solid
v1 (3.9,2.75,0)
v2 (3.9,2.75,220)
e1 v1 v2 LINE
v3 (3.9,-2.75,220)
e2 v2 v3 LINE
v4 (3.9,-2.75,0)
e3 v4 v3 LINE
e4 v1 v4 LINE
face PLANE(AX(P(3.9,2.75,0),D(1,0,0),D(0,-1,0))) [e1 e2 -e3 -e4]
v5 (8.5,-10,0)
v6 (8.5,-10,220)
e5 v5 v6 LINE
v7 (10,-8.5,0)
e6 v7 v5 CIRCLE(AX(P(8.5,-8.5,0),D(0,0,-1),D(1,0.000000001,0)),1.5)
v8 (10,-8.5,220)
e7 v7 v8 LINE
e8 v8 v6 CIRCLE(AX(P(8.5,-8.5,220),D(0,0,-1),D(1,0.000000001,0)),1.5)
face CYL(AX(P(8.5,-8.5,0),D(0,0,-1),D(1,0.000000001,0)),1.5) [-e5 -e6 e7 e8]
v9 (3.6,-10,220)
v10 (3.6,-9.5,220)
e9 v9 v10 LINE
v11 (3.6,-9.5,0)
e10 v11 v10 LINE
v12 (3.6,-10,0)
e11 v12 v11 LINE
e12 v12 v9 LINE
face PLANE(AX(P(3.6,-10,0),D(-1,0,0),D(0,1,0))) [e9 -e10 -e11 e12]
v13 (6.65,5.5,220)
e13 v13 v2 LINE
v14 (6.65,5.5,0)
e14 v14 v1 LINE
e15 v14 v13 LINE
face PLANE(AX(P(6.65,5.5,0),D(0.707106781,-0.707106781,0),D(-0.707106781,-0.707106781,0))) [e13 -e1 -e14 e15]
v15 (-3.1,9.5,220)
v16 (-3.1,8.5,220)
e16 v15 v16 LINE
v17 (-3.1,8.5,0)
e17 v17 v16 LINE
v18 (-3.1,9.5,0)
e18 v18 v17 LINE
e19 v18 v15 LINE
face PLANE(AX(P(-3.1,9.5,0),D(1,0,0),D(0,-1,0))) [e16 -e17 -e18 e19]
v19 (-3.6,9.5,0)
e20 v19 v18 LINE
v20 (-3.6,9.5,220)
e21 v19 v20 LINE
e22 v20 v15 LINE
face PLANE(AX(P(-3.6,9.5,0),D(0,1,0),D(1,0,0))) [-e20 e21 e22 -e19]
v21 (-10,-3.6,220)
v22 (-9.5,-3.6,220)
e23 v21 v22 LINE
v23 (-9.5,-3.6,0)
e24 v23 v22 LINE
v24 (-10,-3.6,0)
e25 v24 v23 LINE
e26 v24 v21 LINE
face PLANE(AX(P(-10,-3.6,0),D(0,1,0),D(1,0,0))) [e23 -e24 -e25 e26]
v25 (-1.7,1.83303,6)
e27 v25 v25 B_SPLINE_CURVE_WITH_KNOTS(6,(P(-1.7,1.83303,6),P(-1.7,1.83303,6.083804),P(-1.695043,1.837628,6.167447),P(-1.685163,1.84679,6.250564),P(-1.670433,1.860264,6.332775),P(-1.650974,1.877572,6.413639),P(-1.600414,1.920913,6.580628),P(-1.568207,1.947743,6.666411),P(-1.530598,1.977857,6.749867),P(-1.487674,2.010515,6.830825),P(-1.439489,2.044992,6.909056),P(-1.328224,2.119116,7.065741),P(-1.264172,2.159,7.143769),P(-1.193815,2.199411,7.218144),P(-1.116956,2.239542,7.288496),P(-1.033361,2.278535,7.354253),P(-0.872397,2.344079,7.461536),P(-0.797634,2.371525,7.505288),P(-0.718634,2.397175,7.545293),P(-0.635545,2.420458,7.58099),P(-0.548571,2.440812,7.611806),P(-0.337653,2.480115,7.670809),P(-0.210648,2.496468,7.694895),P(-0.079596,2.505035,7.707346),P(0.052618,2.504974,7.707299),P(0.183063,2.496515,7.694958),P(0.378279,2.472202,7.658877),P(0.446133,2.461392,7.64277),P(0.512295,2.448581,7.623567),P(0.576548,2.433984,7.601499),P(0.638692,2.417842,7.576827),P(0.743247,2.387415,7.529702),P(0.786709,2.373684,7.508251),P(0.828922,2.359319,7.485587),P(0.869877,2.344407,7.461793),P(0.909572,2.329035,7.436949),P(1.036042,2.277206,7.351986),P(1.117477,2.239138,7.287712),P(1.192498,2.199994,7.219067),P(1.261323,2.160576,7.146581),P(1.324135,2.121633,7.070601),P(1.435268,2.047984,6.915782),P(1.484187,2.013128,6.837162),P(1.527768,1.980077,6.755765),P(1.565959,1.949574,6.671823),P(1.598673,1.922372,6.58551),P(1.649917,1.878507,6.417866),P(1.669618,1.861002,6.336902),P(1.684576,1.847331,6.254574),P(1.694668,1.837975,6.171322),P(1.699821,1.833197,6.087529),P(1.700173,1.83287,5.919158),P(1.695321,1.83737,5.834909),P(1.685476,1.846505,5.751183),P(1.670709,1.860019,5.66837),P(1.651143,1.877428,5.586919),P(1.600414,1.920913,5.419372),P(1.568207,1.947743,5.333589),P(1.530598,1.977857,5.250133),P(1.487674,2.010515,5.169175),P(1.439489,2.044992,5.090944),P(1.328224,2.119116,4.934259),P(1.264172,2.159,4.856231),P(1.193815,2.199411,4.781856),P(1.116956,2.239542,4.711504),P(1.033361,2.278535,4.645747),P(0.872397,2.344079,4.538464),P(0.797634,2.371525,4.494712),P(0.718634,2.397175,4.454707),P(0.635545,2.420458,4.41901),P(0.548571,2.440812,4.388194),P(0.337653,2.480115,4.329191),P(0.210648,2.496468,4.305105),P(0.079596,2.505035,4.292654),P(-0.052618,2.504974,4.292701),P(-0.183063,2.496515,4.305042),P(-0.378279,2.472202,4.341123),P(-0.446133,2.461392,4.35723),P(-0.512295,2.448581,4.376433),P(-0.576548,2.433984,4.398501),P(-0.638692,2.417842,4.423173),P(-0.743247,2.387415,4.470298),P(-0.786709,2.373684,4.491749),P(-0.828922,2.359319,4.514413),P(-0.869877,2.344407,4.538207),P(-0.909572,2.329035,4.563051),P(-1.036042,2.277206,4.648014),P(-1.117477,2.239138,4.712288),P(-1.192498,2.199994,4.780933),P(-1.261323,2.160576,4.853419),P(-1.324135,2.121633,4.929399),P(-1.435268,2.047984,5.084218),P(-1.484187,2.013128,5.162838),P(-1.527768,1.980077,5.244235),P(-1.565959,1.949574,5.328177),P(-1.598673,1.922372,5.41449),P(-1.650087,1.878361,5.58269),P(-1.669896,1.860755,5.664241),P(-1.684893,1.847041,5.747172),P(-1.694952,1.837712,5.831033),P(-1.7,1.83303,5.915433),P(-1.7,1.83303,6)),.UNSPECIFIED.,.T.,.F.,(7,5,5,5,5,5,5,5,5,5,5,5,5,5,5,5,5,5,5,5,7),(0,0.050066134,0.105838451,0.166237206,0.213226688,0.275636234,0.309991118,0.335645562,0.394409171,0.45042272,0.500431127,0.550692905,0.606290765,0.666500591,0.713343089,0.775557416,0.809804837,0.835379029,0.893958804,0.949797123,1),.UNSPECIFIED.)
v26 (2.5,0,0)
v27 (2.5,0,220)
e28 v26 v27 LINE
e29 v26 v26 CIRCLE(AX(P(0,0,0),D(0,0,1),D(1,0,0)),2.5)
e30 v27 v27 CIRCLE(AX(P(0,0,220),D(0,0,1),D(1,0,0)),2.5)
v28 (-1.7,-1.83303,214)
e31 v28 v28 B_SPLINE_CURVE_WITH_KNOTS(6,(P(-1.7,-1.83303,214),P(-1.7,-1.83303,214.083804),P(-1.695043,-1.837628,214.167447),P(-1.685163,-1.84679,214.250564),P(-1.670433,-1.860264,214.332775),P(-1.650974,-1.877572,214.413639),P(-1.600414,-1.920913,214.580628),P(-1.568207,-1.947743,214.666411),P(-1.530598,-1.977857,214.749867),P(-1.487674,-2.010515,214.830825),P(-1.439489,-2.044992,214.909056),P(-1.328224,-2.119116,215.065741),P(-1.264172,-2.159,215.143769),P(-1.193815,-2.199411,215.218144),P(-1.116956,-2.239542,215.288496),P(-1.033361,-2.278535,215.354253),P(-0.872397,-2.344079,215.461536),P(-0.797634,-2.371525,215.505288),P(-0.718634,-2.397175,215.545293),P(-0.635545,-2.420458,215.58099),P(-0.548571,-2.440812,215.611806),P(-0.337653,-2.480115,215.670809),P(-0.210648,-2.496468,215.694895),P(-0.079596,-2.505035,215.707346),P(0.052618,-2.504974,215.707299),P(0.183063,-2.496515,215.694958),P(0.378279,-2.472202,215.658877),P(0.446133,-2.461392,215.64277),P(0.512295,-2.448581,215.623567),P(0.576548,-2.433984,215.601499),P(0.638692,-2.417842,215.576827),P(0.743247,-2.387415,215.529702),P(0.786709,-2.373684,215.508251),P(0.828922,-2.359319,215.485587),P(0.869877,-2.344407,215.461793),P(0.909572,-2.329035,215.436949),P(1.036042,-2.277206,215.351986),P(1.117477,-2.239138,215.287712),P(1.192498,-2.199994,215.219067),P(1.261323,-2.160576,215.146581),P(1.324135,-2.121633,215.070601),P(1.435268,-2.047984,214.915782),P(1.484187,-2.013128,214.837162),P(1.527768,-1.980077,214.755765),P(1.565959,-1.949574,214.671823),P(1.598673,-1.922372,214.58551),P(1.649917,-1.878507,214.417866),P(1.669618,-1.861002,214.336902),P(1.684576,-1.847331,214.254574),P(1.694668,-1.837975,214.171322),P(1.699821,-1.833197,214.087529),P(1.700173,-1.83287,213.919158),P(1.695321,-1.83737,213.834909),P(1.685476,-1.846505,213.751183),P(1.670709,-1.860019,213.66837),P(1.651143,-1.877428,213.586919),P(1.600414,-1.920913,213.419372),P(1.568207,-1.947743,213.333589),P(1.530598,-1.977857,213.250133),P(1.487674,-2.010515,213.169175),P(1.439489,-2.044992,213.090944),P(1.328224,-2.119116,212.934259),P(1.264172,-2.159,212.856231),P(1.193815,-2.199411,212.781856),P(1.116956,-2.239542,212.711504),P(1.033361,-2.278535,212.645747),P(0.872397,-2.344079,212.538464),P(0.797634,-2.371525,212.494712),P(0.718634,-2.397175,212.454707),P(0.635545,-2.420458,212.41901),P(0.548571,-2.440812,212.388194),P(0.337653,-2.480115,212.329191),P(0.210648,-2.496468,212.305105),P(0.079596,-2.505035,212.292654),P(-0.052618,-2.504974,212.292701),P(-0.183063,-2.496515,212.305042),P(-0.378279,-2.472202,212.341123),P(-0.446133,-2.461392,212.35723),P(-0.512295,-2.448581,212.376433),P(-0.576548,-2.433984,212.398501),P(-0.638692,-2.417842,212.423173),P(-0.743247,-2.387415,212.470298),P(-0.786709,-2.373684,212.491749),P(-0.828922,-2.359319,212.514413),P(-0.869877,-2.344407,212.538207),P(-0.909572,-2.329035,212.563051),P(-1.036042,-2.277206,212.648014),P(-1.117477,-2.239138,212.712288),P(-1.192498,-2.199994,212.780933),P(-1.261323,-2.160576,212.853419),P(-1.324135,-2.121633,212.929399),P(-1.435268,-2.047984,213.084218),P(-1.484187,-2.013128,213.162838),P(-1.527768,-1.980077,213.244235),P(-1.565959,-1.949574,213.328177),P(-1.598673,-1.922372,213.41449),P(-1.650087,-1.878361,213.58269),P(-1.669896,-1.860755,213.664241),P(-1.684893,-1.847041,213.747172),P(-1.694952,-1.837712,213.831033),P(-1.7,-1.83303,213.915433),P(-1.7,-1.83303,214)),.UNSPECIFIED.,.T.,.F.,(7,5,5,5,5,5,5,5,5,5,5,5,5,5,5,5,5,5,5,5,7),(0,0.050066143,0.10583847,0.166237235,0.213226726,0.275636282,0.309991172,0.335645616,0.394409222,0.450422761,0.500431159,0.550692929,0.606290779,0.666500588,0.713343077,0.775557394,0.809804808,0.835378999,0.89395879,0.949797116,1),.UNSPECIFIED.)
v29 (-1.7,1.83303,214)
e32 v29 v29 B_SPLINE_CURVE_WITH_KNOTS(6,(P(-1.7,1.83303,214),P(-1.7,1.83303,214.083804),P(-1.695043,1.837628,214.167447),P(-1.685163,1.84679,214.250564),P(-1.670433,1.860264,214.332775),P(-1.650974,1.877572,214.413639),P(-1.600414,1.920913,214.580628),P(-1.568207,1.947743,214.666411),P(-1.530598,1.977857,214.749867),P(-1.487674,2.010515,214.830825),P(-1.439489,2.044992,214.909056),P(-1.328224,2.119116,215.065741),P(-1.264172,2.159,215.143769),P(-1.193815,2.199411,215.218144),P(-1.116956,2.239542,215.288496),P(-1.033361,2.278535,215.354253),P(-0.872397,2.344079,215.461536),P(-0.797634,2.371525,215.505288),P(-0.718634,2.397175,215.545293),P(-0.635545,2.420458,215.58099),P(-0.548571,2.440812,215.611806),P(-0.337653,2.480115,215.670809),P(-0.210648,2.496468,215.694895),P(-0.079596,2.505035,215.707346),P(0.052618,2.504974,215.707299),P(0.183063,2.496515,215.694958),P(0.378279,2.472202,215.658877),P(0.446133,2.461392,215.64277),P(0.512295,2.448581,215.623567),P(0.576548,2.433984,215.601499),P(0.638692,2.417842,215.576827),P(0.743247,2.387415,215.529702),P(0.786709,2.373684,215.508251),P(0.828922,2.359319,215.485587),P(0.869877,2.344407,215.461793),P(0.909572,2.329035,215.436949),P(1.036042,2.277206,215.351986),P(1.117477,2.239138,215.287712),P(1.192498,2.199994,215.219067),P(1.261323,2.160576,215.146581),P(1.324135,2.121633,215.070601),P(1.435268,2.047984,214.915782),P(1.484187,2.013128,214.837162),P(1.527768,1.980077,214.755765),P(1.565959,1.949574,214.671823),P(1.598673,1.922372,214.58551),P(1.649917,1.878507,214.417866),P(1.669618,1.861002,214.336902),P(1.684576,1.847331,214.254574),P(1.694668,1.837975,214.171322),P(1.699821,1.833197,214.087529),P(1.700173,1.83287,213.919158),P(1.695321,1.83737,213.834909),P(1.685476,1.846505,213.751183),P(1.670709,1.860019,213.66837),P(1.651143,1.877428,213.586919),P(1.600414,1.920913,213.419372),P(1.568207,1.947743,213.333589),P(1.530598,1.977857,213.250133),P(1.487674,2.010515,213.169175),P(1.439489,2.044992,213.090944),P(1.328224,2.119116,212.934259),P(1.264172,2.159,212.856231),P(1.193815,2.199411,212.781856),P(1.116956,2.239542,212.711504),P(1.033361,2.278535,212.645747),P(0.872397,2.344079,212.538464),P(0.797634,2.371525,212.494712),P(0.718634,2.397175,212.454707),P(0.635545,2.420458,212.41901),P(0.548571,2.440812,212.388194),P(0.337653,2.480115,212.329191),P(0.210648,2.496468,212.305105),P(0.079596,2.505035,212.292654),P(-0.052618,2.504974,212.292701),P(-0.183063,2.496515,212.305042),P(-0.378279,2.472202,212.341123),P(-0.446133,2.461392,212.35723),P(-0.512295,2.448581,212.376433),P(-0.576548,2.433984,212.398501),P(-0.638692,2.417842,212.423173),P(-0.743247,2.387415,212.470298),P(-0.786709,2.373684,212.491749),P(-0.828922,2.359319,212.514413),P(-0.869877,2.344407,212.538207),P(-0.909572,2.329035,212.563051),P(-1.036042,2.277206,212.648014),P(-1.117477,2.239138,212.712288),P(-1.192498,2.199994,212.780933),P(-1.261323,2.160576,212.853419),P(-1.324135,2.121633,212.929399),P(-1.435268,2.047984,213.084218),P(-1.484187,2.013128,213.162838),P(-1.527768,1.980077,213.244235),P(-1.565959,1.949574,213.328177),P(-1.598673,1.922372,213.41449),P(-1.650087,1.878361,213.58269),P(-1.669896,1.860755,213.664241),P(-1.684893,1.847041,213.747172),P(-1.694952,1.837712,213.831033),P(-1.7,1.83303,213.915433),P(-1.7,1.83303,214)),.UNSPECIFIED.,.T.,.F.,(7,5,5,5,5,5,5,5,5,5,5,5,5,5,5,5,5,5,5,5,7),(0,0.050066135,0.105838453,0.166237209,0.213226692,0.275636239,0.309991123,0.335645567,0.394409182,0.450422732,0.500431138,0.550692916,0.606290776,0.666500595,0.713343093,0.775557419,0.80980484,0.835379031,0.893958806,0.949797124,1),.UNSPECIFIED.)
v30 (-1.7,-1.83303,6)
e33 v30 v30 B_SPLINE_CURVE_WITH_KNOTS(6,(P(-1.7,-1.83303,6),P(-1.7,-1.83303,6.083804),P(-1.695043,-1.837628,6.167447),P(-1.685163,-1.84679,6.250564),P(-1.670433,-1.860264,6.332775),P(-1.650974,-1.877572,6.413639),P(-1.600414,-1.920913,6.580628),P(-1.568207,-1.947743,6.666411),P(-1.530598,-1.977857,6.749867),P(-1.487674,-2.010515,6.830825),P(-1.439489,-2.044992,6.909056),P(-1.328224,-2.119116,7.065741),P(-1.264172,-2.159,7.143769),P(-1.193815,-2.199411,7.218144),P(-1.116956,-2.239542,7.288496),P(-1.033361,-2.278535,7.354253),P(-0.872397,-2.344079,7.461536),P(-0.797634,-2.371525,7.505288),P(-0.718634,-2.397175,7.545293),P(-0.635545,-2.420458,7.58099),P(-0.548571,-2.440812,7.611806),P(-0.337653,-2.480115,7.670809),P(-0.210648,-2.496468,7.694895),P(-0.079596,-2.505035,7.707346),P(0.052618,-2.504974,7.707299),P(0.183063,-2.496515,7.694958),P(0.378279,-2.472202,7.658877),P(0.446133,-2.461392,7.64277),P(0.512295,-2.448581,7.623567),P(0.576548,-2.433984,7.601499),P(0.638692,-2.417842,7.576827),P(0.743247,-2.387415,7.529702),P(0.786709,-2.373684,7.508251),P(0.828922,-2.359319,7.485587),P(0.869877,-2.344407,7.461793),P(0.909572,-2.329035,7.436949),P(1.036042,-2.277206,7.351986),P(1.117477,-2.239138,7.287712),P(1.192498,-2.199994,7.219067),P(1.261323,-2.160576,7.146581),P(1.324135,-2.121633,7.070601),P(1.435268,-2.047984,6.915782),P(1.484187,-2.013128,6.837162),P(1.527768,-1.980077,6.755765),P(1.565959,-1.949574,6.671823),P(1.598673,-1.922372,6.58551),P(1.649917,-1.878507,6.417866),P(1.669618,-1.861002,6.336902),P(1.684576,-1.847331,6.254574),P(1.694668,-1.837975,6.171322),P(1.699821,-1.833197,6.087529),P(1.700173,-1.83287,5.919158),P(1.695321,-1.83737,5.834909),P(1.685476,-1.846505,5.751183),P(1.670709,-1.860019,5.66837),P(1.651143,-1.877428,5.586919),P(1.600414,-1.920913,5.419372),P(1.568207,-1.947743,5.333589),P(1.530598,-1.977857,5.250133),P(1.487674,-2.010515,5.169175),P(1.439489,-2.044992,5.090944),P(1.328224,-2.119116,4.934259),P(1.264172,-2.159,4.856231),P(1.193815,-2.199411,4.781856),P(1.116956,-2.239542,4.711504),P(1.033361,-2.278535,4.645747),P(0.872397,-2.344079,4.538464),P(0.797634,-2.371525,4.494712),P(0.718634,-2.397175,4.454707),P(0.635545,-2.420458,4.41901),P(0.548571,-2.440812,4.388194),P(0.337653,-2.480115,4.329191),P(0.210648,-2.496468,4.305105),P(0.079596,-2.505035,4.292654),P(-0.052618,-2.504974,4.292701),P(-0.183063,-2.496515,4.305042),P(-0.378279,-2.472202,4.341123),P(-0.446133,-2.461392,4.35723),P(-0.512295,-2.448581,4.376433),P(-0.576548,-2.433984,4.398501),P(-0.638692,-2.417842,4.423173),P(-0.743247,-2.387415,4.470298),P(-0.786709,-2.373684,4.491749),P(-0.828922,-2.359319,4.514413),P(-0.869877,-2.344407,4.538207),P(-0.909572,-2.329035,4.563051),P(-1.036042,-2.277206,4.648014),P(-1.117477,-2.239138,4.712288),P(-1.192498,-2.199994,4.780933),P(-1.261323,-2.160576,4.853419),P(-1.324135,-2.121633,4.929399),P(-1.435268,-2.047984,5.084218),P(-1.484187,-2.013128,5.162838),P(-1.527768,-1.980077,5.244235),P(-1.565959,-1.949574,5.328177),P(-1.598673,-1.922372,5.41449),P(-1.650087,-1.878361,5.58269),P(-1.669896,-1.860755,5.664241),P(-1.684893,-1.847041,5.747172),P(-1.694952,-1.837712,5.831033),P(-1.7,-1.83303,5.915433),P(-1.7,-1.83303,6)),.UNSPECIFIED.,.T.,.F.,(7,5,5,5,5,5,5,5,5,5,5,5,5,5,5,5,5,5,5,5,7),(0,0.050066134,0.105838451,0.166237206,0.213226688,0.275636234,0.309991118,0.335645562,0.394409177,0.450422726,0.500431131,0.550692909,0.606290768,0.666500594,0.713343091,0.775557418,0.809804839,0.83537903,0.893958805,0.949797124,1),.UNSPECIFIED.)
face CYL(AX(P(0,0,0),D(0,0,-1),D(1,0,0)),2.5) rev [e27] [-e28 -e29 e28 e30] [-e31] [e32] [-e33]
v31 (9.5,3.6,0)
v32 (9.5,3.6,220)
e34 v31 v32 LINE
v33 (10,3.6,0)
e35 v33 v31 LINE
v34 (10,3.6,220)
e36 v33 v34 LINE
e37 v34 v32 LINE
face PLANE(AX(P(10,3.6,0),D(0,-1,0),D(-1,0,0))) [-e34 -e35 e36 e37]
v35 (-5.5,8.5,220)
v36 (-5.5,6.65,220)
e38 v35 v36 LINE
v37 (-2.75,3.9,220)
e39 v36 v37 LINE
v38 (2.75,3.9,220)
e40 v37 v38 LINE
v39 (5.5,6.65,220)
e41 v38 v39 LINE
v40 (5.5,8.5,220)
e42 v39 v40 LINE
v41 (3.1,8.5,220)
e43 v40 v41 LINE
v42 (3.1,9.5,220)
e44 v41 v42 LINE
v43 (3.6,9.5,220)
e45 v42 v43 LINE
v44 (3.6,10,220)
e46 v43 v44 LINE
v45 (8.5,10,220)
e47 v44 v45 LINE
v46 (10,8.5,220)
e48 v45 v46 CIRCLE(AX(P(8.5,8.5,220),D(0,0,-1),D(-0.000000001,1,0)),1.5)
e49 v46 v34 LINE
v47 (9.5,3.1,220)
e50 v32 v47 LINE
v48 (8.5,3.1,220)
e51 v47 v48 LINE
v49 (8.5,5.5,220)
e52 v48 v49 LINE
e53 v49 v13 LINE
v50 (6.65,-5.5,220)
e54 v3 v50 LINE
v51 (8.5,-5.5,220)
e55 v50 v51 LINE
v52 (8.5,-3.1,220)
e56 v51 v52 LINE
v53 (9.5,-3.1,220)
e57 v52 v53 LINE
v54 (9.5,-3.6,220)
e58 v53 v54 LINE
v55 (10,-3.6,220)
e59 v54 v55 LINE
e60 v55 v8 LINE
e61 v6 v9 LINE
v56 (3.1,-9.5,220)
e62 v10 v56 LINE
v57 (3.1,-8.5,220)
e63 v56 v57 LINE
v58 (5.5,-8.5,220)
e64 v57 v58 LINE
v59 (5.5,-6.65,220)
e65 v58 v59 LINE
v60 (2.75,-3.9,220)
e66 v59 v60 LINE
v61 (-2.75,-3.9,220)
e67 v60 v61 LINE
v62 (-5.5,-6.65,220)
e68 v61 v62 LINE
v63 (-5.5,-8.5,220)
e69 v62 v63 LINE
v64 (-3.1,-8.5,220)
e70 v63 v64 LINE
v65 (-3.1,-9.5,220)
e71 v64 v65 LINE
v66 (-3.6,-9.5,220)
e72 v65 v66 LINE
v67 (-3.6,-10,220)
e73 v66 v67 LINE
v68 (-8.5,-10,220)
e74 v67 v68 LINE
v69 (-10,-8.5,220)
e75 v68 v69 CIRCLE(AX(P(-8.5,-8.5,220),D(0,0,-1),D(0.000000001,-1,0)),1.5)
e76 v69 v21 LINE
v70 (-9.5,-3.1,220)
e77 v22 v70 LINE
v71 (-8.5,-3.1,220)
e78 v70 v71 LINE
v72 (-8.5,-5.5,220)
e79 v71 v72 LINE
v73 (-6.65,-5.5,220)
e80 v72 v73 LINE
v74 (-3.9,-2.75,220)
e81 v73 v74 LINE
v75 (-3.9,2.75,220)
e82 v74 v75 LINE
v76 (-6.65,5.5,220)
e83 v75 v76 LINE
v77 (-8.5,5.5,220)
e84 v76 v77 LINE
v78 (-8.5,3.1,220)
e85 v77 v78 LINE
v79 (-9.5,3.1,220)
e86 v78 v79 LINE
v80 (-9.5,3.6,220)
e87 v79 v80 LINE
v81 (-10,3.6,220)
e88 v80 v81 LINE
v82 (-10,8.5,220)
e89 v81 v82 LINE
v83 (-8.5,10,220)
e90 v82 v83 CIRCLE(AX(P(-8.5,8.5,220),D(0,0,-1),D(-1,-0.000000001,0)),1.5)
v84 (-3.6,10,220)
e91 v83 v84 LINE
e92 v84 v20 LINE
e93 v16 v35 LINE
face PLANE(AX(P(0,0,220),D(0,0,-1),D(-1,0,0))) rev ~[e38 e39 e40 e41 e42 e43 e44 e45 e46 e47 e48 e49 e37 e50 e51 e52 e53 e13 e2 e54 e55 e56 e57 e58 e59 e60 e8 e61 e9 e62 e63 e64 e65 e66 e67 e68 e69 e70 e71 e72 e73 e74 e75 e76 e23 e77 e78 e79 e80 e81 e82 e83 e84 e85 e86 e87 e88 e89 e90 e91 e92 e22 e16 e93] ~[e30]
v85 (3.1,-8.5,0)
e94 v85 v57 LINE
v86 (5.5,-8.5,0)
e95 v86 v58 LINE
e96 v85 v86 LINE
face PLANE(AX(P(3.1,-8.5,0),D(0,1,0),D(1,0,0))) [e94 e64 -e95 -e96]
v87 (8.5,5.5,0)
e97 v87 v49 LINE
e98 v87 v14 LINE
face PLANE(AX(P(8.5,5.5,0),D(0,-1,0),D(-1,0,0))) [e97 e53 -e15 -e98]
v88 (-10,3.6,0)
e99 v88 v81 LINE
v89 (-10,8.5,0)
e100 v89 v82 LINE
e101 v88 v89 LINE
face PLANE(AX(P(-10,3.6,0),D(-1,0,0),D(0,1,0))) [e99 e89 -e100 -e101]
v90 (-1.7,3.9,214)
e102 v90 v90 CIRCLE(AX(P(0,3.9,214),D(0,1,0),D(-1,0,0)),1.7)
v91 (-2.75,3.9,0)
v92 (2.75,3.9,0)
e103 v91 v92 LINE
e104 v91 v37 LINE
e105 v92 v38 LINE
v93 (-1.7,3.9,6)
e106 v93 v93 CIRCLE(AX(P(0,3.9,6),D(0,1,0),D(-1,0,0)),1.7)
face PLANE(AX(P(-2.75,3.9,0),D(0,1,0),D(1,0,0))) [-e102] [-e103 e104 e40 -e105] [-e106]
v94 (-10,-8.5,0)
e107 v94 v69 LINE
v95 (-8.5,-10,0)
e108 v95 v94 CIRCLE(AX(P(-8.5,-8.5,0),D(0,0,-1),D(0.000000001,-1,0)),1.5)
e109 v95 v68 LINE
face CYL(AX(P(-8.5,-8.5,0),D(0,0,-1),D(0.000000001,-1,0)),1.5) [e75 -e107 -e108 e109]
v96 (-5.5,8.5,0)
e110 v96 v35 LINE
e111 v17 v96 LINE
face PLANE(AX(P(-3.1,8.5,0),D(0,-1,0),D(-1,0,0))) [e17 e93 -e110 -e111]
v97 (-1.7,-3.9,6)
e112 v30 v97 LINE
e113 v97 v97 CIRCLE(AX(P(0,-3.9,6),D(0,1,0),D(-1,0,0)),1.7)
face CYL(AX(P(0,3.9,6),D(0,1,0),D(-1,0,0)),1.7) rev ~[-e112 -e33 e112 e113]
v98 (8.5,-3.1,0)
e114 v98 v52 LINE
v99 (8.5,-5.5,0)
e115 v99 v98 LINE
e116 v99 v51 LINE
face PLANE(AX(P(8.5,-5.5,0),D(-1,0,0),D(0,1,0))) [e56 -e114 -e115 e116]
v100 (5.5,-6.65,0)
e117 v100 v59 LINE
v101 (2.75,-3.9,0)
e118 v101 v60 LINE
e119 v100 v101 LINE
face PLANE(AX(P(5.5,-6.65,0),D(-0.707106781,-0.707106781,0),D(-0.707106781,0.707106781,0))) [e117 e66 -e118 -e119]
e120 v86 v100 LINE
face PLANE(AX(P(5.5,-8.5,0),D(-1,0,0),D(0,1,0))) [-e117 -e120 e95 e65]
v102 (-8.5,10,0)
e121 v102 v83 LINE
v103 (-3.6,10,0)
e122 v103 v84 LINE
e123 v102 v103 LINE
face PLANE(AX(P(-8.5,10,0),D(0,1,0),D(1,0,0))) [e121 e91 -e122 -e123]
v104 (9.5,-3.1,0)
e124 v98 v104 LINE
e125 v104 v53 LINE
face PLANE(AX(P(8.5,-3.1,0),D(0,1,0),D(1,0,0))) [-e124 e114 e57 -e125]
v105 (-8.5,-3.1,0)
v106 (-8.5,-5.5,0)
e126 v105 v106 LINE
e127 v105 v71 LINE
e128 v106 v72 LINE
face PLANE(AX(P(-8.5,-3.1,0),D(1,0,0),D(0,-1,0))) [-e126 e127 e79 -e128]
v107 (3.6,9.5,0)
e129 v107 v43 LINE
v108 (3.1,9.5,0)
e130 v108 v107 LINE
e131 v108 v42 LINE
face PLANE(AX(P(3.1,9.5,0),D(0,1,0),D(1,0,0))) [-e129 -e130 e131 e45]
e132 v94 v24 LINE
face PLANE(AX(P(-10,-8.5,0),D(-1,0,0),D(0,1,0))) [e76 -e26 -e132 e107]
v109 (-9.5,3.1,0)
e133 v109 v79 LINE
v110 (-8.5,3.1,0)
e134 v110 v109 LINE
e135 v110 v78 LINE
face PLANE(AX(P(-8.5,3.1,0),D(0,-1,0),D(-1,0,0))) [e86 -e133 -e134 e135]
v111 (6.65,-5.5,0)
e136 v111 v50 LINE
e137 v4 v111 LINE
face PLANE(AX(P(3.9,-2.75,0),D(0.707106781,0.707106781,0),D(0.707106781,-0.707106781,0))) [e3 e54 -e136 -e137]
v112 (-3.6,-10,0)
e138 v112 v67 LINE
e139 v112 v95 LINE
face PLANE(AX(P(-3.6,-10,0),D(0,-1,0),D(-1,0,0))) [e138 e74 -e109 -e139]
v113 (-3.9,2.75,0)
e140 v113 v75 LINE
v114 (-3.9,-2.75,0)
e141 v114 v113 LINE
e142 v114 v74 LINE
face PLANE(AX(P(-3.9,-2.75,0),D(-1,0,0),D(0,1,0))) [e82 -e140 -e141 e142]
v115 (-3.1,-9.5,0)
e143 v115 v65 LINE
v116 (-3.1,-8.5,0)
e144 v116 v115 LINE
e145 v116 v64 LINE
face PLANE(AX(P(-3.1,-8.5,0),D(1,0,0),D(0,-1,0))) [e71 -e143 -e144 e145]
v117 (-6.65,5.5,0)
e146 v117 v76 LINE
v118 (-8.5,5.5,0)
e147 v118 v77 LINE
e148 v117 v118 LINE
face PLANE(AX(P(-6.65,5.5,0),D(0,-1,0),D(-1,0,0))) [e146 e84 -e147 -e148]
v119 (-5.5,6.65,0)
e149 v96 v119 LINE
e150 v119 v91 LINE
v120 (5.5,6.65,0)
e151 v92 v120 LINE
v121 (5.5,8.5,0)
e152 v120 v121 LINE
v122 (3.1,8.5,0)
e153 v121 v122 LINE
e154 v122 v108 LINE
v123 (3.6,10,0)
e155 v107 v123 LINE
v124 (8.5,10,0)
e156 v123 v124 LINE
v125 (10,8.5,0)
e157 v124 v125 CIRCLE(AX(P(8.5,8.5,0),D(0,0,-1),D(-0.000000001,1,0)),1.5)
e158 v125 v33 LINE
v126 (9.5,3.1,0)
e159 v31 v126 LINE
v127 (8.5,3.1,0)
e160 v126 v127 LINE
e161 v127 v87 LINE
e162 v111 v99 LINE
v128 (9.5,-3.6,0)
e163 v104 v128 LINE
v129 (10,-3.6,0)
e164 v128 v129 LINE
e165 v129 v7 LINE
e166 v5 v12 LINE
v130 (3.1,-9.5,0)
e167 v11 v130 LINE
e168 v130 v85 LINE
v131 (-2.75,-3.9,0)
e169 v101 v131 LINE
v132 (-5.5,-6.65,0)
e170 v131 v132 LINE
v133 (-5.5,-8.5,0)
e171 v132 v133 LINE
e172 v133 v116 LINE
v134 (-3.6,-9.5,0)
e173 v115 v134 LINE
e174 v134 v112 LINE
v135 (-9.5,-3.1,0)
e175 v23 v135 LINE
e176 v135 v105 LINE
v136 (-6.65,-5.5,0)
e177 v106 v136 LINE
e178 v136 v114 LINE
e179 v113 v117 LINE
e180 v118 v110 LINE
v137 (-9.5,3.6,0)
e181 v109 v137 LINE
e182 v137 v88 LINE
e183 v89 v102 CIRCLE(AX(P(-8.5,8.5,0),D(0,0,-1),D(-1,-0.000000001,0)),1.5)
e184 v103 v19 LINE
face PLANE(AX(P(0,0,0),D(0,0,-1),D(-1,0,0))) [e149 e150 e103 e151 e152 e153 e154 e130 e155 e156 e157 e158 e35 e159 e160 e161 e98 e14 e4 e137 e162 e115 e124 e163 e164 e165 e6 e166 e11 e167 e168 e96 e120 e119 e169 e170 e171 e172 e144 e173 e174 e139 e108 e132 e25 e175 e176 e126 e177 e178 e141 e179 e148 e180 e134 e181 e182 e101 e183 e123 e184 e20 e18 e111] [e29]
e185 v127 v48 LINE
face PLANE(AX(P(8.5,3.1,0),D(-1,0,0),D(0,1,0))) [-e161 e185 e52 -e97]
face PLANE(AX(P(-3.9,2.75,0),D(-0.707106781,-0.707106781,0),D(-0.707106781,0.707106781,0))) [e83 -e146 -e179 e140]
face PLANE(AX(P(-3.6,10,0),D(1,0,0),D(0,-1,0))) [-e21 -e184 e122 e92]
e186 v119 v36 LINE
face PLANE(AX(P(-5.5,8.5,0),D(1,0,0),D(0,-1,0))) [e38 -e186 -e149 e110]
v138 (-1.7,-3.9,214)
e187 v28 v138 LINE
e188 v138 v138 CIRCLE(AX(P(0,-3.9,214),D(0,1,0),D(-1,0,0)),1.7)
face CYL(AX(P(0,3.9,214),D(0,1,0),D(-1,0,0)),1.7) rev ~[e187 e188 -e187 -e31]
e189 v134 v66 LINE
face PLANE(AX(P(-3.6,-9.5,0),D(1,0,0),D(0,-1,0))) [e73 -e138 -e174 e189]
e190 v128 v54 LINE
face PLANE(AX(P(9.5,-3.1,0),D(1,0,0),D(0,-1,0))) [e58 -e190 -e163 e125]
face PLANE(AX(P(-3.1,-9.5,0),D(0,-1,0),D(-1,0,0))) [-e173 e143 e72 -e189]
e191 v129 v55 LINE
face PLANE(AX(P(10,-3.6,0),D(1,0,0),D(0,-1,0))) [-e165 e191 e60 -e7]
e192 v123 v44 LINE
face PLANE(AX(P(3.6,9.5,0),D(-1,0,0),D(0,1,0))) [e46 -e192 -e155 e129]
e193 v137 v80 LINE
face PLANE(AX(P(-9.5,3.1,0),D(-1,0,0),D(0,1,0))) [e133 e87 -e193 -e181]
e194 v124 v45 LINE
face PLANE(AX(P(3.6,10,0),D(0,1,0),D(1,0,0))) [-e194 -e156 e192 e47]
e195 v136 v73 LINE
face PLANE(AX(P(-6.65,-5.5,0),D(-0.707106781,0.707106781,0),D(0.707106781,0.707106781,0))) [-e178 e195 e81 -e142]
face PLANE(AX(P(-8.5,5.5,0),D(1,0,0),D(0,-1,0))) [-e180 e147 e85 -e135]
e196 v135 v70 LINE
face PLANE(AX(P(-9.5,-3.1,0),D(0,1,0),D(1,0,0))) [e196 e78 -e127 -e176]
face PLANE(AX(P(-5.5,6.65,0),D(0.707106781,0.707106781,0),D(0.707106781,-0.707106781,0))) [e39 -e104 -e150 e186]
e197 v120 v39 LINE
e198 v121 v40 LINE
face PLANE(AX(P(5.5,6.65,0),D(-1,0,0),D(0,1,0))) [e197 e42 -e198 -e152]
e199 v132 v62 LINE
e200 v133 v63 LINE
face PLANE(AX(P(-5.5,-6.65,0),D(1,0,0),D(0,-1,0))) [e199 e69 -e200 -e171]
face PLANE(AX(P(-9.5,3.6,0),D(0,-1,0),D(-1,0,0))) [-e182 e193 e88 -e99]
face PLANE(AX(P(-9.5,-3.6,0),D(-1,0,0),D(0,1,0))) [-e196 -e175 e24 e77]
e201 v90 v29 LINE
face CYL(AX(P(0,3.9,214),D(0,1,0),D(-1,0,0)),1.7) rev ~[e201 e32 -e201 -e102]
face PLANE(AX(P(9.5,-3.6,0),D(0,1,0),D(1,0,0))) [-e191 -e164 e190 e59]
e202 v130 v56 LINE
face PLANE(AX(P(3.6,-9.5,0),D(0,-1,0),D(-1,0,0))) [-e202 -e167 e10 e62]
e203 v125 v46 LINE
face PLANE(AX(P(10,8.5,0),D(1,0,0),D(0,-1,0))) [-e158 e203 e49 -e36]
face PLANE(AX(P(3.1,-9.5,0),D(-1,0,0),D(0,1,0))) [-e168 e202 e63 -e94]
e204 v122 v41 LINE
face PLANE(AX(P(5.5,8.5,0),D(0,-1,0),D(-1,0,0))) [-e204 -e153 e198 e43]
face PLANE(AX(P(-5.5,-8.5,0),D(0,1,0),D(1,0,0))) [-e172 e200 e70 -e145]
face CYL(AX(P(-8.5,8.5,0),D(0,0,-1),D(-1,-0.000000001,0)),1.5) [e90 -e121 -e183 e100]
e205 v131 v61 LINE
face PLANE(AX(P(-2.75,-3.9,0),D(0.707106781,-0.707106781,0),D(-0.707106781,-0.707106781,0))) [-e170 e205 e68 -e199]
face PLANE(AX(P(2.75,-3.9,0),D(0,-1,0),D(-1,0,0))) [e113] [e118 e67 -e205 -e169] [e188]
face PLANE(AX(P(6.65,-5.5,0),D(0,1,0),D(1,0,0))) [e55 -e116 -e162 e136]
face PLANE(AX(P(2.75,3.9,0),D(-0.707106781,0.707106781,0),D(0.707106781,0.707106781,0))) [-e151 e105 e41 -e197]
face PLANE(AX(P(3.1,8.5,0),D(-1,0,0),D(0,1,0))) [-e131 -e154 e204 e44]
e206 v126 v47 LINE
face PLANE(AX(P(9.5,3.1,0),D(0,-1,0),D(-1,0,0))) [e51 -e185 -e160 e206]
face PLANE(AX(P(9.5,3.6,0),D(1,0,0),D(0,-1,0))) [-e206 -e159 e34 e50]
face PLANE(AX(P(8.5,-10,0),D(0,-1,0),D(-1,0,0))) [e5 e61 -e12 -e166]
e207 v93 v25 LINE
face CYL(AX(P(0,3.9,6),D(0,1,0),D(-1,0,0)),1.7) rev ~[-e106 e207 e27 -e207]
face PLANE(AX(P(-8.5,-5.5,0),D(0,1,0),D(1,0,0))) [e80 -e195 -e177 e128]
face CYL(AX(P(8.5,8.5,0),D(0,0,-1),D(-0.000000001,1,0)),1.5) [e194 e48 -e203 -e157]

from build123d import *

# Parameters (mm, degrees)
SKETCH1_R           = 2.5
EXTRUDE_1_DEPTH     = 220
SKETCH_1_R          = 1.7
CUT_EXTRUDE_1_DEPTH = 221.665380157


with BuildPart() as part:
    # Sketch1 → 凸台-拉伸1 (new body)
    with BuildSketch(Plane.XY):
        with BuildLine():
            Line((-3.6, 10), (-3.6, 9.5))
            Line((-3.6, 9.5), (-3.1, 9.5))
            Line((-3.1, 9.5), (-3.1, 8.5))
            Line((-3.1, 8.5), (-5.5, 8.5))
            Line((-5.5, 8.5), (-5.5, 6.65))
            Line((-5.5, 6.65), (-2.75, 3.9))
            Line((-2.75, 3.9), (2.75, 3.9))
            Line((2.75, 3.9), (5.5, 6.65))
            Line((5.5, 6.65), (5.5, 8.5))
            Line((5.5, 8.5), (3.1, 8.5))
            Line((3.1, 8.5), (3.1, 9.5))
            Line((3.1, 9.5), (3.6, 9.5))
            Line((3.6, 9.5), (3.6, 10))
            Line((3.6, 10), (8.5, 10))
            ThreePointArc((8.5, 10), (9.560660172, 9.560660172), (10, 8.5))
            Line((10, 8.5), (10, 3.6))
            Line((10, 3.6), (9.5, 3.6))
            Line((9.5, 3.6), (9.5, 3.1))
            Line((9.5, 3.1), (8.5, 3.1))
            Line((8.5, 3.1), (8.5, 5.5))
            Line((8.5, 5.5), (6.65, 5.5))
            Line((6.65, 5.5), (3.9, 2.75))
            Line((3.9, 2.75), (3.9, -2.75))
            Line((3.9, -2.75), (6.65, -5.5))
            Line((6.65, -5.5), (8.5, -5.5))
            Line((8.5, -5.5), (8.5, -3.1))
            Line((8.5, -3.1), (9.5, -3.1))
            Line((9.5, -3.1), (9.5, -3.6))
            Line((9.5, -3.6), (10, -3.6))
            Line((10, -3.6), (10, -8.5))
            ThreePointArc((10, -8.5), (9.560660172, -9.560660172), (8.5, -10))
            Line((8.5, -10), (3.6, -10))
            Line((3.6, -10), (3.6, -9.5))
            Line((3.6, -9.5), (3.1, -9.5))
            Line((3.1, -9.5), (3.1, -8.5))
            Line((3.1, -8.5), (5.5, -8.5))
            Line((5.5, -8.5), (5.5, -6.65))
            Line((5.5, -6.65), (2.75, -3.9))
            Line((2.75, -3.9), (-2.75, -3.9))
            Line((-2.75, -3.9), (-5.5, -6.65))
            Line((-5.5, -6.65), (-5.5, -8.5))
            Line((-5.5, -8.5), (-3.1, -8.5))
            Line((-3.1, -8.5), (-3.1, -9.5))
            Line((-3.1, -9.5), (-3.6, -9.5))
            Line((-3.6, -9.5), (-3.6, -10))
            Line((-3.6, -10), (-8.5, -10))
            ThreePointArc((-8.5, -10), (-9.560660172, -9.560660172), (-10, -8.5))
            Line((-10, -8.5), (-10, -3.6))
            Line((-10, -3.6), (-9.5, -3.6))
            Line((-9.5, -3.6), (-9.5, -3.1))
            Line((-9.5, -3.1), (-8.5, -3.1))
            Line((-8.5, -3.1), (-8.5, -5.5))
            Line((-8.5, -5.5), (-6.65, -5.5))
            Line((-6.65, -5.5), (-3.9, -2.75))
            Line((-3.9, -2.75), (-3.9, 2.75))
            Line((-3.9, 2.75), (-6.65, 5.5))
            Line((-6.65, 5.5), (-8.5, 5.5))
            Line((-8.5, 5.5), (-8.5, 3.1))
            Line((-8.5, 3.1), (-9.5, 3.1))
            Line((-9.5, 3.1), (-9.5, 3.6))
            Line((-9.5, 3.6), (-10, 3.6))
            Line((-10, 3.6), (-10, 8.5))
            ThreePointArc((-10, 8.5), (-9.560660172, 9.560660172), (-8.5, 10))
            Line((-8.5, 10), (-3.6, 10))
        make_face()
        Circle(SKETCH1_R, mode=Mode.SUBTRACT)
    extrude(amount=EXTRUDE_1_DEPTH)

    # 草图1 → 切除-拉伸1 (cut, through all)
    with BuildSketch(Plane(origin=(0, 3.9, 0), x_dir=(1, 0, 0), z_dir=(0, 1, 0))):
        with Locations(Location((0, -214, 0), (0, 0, 180))):
            Circle(SKETCH_1_R)
        with Locations(Location((0, -6, 0), (0, 0, 180))):
            Circle(SKETCH_1_R)
    extrude(amount=-CUT_EXTRUDE_1_DEPTH, mode=Mode.SUBTRACT)


solid = part.part
